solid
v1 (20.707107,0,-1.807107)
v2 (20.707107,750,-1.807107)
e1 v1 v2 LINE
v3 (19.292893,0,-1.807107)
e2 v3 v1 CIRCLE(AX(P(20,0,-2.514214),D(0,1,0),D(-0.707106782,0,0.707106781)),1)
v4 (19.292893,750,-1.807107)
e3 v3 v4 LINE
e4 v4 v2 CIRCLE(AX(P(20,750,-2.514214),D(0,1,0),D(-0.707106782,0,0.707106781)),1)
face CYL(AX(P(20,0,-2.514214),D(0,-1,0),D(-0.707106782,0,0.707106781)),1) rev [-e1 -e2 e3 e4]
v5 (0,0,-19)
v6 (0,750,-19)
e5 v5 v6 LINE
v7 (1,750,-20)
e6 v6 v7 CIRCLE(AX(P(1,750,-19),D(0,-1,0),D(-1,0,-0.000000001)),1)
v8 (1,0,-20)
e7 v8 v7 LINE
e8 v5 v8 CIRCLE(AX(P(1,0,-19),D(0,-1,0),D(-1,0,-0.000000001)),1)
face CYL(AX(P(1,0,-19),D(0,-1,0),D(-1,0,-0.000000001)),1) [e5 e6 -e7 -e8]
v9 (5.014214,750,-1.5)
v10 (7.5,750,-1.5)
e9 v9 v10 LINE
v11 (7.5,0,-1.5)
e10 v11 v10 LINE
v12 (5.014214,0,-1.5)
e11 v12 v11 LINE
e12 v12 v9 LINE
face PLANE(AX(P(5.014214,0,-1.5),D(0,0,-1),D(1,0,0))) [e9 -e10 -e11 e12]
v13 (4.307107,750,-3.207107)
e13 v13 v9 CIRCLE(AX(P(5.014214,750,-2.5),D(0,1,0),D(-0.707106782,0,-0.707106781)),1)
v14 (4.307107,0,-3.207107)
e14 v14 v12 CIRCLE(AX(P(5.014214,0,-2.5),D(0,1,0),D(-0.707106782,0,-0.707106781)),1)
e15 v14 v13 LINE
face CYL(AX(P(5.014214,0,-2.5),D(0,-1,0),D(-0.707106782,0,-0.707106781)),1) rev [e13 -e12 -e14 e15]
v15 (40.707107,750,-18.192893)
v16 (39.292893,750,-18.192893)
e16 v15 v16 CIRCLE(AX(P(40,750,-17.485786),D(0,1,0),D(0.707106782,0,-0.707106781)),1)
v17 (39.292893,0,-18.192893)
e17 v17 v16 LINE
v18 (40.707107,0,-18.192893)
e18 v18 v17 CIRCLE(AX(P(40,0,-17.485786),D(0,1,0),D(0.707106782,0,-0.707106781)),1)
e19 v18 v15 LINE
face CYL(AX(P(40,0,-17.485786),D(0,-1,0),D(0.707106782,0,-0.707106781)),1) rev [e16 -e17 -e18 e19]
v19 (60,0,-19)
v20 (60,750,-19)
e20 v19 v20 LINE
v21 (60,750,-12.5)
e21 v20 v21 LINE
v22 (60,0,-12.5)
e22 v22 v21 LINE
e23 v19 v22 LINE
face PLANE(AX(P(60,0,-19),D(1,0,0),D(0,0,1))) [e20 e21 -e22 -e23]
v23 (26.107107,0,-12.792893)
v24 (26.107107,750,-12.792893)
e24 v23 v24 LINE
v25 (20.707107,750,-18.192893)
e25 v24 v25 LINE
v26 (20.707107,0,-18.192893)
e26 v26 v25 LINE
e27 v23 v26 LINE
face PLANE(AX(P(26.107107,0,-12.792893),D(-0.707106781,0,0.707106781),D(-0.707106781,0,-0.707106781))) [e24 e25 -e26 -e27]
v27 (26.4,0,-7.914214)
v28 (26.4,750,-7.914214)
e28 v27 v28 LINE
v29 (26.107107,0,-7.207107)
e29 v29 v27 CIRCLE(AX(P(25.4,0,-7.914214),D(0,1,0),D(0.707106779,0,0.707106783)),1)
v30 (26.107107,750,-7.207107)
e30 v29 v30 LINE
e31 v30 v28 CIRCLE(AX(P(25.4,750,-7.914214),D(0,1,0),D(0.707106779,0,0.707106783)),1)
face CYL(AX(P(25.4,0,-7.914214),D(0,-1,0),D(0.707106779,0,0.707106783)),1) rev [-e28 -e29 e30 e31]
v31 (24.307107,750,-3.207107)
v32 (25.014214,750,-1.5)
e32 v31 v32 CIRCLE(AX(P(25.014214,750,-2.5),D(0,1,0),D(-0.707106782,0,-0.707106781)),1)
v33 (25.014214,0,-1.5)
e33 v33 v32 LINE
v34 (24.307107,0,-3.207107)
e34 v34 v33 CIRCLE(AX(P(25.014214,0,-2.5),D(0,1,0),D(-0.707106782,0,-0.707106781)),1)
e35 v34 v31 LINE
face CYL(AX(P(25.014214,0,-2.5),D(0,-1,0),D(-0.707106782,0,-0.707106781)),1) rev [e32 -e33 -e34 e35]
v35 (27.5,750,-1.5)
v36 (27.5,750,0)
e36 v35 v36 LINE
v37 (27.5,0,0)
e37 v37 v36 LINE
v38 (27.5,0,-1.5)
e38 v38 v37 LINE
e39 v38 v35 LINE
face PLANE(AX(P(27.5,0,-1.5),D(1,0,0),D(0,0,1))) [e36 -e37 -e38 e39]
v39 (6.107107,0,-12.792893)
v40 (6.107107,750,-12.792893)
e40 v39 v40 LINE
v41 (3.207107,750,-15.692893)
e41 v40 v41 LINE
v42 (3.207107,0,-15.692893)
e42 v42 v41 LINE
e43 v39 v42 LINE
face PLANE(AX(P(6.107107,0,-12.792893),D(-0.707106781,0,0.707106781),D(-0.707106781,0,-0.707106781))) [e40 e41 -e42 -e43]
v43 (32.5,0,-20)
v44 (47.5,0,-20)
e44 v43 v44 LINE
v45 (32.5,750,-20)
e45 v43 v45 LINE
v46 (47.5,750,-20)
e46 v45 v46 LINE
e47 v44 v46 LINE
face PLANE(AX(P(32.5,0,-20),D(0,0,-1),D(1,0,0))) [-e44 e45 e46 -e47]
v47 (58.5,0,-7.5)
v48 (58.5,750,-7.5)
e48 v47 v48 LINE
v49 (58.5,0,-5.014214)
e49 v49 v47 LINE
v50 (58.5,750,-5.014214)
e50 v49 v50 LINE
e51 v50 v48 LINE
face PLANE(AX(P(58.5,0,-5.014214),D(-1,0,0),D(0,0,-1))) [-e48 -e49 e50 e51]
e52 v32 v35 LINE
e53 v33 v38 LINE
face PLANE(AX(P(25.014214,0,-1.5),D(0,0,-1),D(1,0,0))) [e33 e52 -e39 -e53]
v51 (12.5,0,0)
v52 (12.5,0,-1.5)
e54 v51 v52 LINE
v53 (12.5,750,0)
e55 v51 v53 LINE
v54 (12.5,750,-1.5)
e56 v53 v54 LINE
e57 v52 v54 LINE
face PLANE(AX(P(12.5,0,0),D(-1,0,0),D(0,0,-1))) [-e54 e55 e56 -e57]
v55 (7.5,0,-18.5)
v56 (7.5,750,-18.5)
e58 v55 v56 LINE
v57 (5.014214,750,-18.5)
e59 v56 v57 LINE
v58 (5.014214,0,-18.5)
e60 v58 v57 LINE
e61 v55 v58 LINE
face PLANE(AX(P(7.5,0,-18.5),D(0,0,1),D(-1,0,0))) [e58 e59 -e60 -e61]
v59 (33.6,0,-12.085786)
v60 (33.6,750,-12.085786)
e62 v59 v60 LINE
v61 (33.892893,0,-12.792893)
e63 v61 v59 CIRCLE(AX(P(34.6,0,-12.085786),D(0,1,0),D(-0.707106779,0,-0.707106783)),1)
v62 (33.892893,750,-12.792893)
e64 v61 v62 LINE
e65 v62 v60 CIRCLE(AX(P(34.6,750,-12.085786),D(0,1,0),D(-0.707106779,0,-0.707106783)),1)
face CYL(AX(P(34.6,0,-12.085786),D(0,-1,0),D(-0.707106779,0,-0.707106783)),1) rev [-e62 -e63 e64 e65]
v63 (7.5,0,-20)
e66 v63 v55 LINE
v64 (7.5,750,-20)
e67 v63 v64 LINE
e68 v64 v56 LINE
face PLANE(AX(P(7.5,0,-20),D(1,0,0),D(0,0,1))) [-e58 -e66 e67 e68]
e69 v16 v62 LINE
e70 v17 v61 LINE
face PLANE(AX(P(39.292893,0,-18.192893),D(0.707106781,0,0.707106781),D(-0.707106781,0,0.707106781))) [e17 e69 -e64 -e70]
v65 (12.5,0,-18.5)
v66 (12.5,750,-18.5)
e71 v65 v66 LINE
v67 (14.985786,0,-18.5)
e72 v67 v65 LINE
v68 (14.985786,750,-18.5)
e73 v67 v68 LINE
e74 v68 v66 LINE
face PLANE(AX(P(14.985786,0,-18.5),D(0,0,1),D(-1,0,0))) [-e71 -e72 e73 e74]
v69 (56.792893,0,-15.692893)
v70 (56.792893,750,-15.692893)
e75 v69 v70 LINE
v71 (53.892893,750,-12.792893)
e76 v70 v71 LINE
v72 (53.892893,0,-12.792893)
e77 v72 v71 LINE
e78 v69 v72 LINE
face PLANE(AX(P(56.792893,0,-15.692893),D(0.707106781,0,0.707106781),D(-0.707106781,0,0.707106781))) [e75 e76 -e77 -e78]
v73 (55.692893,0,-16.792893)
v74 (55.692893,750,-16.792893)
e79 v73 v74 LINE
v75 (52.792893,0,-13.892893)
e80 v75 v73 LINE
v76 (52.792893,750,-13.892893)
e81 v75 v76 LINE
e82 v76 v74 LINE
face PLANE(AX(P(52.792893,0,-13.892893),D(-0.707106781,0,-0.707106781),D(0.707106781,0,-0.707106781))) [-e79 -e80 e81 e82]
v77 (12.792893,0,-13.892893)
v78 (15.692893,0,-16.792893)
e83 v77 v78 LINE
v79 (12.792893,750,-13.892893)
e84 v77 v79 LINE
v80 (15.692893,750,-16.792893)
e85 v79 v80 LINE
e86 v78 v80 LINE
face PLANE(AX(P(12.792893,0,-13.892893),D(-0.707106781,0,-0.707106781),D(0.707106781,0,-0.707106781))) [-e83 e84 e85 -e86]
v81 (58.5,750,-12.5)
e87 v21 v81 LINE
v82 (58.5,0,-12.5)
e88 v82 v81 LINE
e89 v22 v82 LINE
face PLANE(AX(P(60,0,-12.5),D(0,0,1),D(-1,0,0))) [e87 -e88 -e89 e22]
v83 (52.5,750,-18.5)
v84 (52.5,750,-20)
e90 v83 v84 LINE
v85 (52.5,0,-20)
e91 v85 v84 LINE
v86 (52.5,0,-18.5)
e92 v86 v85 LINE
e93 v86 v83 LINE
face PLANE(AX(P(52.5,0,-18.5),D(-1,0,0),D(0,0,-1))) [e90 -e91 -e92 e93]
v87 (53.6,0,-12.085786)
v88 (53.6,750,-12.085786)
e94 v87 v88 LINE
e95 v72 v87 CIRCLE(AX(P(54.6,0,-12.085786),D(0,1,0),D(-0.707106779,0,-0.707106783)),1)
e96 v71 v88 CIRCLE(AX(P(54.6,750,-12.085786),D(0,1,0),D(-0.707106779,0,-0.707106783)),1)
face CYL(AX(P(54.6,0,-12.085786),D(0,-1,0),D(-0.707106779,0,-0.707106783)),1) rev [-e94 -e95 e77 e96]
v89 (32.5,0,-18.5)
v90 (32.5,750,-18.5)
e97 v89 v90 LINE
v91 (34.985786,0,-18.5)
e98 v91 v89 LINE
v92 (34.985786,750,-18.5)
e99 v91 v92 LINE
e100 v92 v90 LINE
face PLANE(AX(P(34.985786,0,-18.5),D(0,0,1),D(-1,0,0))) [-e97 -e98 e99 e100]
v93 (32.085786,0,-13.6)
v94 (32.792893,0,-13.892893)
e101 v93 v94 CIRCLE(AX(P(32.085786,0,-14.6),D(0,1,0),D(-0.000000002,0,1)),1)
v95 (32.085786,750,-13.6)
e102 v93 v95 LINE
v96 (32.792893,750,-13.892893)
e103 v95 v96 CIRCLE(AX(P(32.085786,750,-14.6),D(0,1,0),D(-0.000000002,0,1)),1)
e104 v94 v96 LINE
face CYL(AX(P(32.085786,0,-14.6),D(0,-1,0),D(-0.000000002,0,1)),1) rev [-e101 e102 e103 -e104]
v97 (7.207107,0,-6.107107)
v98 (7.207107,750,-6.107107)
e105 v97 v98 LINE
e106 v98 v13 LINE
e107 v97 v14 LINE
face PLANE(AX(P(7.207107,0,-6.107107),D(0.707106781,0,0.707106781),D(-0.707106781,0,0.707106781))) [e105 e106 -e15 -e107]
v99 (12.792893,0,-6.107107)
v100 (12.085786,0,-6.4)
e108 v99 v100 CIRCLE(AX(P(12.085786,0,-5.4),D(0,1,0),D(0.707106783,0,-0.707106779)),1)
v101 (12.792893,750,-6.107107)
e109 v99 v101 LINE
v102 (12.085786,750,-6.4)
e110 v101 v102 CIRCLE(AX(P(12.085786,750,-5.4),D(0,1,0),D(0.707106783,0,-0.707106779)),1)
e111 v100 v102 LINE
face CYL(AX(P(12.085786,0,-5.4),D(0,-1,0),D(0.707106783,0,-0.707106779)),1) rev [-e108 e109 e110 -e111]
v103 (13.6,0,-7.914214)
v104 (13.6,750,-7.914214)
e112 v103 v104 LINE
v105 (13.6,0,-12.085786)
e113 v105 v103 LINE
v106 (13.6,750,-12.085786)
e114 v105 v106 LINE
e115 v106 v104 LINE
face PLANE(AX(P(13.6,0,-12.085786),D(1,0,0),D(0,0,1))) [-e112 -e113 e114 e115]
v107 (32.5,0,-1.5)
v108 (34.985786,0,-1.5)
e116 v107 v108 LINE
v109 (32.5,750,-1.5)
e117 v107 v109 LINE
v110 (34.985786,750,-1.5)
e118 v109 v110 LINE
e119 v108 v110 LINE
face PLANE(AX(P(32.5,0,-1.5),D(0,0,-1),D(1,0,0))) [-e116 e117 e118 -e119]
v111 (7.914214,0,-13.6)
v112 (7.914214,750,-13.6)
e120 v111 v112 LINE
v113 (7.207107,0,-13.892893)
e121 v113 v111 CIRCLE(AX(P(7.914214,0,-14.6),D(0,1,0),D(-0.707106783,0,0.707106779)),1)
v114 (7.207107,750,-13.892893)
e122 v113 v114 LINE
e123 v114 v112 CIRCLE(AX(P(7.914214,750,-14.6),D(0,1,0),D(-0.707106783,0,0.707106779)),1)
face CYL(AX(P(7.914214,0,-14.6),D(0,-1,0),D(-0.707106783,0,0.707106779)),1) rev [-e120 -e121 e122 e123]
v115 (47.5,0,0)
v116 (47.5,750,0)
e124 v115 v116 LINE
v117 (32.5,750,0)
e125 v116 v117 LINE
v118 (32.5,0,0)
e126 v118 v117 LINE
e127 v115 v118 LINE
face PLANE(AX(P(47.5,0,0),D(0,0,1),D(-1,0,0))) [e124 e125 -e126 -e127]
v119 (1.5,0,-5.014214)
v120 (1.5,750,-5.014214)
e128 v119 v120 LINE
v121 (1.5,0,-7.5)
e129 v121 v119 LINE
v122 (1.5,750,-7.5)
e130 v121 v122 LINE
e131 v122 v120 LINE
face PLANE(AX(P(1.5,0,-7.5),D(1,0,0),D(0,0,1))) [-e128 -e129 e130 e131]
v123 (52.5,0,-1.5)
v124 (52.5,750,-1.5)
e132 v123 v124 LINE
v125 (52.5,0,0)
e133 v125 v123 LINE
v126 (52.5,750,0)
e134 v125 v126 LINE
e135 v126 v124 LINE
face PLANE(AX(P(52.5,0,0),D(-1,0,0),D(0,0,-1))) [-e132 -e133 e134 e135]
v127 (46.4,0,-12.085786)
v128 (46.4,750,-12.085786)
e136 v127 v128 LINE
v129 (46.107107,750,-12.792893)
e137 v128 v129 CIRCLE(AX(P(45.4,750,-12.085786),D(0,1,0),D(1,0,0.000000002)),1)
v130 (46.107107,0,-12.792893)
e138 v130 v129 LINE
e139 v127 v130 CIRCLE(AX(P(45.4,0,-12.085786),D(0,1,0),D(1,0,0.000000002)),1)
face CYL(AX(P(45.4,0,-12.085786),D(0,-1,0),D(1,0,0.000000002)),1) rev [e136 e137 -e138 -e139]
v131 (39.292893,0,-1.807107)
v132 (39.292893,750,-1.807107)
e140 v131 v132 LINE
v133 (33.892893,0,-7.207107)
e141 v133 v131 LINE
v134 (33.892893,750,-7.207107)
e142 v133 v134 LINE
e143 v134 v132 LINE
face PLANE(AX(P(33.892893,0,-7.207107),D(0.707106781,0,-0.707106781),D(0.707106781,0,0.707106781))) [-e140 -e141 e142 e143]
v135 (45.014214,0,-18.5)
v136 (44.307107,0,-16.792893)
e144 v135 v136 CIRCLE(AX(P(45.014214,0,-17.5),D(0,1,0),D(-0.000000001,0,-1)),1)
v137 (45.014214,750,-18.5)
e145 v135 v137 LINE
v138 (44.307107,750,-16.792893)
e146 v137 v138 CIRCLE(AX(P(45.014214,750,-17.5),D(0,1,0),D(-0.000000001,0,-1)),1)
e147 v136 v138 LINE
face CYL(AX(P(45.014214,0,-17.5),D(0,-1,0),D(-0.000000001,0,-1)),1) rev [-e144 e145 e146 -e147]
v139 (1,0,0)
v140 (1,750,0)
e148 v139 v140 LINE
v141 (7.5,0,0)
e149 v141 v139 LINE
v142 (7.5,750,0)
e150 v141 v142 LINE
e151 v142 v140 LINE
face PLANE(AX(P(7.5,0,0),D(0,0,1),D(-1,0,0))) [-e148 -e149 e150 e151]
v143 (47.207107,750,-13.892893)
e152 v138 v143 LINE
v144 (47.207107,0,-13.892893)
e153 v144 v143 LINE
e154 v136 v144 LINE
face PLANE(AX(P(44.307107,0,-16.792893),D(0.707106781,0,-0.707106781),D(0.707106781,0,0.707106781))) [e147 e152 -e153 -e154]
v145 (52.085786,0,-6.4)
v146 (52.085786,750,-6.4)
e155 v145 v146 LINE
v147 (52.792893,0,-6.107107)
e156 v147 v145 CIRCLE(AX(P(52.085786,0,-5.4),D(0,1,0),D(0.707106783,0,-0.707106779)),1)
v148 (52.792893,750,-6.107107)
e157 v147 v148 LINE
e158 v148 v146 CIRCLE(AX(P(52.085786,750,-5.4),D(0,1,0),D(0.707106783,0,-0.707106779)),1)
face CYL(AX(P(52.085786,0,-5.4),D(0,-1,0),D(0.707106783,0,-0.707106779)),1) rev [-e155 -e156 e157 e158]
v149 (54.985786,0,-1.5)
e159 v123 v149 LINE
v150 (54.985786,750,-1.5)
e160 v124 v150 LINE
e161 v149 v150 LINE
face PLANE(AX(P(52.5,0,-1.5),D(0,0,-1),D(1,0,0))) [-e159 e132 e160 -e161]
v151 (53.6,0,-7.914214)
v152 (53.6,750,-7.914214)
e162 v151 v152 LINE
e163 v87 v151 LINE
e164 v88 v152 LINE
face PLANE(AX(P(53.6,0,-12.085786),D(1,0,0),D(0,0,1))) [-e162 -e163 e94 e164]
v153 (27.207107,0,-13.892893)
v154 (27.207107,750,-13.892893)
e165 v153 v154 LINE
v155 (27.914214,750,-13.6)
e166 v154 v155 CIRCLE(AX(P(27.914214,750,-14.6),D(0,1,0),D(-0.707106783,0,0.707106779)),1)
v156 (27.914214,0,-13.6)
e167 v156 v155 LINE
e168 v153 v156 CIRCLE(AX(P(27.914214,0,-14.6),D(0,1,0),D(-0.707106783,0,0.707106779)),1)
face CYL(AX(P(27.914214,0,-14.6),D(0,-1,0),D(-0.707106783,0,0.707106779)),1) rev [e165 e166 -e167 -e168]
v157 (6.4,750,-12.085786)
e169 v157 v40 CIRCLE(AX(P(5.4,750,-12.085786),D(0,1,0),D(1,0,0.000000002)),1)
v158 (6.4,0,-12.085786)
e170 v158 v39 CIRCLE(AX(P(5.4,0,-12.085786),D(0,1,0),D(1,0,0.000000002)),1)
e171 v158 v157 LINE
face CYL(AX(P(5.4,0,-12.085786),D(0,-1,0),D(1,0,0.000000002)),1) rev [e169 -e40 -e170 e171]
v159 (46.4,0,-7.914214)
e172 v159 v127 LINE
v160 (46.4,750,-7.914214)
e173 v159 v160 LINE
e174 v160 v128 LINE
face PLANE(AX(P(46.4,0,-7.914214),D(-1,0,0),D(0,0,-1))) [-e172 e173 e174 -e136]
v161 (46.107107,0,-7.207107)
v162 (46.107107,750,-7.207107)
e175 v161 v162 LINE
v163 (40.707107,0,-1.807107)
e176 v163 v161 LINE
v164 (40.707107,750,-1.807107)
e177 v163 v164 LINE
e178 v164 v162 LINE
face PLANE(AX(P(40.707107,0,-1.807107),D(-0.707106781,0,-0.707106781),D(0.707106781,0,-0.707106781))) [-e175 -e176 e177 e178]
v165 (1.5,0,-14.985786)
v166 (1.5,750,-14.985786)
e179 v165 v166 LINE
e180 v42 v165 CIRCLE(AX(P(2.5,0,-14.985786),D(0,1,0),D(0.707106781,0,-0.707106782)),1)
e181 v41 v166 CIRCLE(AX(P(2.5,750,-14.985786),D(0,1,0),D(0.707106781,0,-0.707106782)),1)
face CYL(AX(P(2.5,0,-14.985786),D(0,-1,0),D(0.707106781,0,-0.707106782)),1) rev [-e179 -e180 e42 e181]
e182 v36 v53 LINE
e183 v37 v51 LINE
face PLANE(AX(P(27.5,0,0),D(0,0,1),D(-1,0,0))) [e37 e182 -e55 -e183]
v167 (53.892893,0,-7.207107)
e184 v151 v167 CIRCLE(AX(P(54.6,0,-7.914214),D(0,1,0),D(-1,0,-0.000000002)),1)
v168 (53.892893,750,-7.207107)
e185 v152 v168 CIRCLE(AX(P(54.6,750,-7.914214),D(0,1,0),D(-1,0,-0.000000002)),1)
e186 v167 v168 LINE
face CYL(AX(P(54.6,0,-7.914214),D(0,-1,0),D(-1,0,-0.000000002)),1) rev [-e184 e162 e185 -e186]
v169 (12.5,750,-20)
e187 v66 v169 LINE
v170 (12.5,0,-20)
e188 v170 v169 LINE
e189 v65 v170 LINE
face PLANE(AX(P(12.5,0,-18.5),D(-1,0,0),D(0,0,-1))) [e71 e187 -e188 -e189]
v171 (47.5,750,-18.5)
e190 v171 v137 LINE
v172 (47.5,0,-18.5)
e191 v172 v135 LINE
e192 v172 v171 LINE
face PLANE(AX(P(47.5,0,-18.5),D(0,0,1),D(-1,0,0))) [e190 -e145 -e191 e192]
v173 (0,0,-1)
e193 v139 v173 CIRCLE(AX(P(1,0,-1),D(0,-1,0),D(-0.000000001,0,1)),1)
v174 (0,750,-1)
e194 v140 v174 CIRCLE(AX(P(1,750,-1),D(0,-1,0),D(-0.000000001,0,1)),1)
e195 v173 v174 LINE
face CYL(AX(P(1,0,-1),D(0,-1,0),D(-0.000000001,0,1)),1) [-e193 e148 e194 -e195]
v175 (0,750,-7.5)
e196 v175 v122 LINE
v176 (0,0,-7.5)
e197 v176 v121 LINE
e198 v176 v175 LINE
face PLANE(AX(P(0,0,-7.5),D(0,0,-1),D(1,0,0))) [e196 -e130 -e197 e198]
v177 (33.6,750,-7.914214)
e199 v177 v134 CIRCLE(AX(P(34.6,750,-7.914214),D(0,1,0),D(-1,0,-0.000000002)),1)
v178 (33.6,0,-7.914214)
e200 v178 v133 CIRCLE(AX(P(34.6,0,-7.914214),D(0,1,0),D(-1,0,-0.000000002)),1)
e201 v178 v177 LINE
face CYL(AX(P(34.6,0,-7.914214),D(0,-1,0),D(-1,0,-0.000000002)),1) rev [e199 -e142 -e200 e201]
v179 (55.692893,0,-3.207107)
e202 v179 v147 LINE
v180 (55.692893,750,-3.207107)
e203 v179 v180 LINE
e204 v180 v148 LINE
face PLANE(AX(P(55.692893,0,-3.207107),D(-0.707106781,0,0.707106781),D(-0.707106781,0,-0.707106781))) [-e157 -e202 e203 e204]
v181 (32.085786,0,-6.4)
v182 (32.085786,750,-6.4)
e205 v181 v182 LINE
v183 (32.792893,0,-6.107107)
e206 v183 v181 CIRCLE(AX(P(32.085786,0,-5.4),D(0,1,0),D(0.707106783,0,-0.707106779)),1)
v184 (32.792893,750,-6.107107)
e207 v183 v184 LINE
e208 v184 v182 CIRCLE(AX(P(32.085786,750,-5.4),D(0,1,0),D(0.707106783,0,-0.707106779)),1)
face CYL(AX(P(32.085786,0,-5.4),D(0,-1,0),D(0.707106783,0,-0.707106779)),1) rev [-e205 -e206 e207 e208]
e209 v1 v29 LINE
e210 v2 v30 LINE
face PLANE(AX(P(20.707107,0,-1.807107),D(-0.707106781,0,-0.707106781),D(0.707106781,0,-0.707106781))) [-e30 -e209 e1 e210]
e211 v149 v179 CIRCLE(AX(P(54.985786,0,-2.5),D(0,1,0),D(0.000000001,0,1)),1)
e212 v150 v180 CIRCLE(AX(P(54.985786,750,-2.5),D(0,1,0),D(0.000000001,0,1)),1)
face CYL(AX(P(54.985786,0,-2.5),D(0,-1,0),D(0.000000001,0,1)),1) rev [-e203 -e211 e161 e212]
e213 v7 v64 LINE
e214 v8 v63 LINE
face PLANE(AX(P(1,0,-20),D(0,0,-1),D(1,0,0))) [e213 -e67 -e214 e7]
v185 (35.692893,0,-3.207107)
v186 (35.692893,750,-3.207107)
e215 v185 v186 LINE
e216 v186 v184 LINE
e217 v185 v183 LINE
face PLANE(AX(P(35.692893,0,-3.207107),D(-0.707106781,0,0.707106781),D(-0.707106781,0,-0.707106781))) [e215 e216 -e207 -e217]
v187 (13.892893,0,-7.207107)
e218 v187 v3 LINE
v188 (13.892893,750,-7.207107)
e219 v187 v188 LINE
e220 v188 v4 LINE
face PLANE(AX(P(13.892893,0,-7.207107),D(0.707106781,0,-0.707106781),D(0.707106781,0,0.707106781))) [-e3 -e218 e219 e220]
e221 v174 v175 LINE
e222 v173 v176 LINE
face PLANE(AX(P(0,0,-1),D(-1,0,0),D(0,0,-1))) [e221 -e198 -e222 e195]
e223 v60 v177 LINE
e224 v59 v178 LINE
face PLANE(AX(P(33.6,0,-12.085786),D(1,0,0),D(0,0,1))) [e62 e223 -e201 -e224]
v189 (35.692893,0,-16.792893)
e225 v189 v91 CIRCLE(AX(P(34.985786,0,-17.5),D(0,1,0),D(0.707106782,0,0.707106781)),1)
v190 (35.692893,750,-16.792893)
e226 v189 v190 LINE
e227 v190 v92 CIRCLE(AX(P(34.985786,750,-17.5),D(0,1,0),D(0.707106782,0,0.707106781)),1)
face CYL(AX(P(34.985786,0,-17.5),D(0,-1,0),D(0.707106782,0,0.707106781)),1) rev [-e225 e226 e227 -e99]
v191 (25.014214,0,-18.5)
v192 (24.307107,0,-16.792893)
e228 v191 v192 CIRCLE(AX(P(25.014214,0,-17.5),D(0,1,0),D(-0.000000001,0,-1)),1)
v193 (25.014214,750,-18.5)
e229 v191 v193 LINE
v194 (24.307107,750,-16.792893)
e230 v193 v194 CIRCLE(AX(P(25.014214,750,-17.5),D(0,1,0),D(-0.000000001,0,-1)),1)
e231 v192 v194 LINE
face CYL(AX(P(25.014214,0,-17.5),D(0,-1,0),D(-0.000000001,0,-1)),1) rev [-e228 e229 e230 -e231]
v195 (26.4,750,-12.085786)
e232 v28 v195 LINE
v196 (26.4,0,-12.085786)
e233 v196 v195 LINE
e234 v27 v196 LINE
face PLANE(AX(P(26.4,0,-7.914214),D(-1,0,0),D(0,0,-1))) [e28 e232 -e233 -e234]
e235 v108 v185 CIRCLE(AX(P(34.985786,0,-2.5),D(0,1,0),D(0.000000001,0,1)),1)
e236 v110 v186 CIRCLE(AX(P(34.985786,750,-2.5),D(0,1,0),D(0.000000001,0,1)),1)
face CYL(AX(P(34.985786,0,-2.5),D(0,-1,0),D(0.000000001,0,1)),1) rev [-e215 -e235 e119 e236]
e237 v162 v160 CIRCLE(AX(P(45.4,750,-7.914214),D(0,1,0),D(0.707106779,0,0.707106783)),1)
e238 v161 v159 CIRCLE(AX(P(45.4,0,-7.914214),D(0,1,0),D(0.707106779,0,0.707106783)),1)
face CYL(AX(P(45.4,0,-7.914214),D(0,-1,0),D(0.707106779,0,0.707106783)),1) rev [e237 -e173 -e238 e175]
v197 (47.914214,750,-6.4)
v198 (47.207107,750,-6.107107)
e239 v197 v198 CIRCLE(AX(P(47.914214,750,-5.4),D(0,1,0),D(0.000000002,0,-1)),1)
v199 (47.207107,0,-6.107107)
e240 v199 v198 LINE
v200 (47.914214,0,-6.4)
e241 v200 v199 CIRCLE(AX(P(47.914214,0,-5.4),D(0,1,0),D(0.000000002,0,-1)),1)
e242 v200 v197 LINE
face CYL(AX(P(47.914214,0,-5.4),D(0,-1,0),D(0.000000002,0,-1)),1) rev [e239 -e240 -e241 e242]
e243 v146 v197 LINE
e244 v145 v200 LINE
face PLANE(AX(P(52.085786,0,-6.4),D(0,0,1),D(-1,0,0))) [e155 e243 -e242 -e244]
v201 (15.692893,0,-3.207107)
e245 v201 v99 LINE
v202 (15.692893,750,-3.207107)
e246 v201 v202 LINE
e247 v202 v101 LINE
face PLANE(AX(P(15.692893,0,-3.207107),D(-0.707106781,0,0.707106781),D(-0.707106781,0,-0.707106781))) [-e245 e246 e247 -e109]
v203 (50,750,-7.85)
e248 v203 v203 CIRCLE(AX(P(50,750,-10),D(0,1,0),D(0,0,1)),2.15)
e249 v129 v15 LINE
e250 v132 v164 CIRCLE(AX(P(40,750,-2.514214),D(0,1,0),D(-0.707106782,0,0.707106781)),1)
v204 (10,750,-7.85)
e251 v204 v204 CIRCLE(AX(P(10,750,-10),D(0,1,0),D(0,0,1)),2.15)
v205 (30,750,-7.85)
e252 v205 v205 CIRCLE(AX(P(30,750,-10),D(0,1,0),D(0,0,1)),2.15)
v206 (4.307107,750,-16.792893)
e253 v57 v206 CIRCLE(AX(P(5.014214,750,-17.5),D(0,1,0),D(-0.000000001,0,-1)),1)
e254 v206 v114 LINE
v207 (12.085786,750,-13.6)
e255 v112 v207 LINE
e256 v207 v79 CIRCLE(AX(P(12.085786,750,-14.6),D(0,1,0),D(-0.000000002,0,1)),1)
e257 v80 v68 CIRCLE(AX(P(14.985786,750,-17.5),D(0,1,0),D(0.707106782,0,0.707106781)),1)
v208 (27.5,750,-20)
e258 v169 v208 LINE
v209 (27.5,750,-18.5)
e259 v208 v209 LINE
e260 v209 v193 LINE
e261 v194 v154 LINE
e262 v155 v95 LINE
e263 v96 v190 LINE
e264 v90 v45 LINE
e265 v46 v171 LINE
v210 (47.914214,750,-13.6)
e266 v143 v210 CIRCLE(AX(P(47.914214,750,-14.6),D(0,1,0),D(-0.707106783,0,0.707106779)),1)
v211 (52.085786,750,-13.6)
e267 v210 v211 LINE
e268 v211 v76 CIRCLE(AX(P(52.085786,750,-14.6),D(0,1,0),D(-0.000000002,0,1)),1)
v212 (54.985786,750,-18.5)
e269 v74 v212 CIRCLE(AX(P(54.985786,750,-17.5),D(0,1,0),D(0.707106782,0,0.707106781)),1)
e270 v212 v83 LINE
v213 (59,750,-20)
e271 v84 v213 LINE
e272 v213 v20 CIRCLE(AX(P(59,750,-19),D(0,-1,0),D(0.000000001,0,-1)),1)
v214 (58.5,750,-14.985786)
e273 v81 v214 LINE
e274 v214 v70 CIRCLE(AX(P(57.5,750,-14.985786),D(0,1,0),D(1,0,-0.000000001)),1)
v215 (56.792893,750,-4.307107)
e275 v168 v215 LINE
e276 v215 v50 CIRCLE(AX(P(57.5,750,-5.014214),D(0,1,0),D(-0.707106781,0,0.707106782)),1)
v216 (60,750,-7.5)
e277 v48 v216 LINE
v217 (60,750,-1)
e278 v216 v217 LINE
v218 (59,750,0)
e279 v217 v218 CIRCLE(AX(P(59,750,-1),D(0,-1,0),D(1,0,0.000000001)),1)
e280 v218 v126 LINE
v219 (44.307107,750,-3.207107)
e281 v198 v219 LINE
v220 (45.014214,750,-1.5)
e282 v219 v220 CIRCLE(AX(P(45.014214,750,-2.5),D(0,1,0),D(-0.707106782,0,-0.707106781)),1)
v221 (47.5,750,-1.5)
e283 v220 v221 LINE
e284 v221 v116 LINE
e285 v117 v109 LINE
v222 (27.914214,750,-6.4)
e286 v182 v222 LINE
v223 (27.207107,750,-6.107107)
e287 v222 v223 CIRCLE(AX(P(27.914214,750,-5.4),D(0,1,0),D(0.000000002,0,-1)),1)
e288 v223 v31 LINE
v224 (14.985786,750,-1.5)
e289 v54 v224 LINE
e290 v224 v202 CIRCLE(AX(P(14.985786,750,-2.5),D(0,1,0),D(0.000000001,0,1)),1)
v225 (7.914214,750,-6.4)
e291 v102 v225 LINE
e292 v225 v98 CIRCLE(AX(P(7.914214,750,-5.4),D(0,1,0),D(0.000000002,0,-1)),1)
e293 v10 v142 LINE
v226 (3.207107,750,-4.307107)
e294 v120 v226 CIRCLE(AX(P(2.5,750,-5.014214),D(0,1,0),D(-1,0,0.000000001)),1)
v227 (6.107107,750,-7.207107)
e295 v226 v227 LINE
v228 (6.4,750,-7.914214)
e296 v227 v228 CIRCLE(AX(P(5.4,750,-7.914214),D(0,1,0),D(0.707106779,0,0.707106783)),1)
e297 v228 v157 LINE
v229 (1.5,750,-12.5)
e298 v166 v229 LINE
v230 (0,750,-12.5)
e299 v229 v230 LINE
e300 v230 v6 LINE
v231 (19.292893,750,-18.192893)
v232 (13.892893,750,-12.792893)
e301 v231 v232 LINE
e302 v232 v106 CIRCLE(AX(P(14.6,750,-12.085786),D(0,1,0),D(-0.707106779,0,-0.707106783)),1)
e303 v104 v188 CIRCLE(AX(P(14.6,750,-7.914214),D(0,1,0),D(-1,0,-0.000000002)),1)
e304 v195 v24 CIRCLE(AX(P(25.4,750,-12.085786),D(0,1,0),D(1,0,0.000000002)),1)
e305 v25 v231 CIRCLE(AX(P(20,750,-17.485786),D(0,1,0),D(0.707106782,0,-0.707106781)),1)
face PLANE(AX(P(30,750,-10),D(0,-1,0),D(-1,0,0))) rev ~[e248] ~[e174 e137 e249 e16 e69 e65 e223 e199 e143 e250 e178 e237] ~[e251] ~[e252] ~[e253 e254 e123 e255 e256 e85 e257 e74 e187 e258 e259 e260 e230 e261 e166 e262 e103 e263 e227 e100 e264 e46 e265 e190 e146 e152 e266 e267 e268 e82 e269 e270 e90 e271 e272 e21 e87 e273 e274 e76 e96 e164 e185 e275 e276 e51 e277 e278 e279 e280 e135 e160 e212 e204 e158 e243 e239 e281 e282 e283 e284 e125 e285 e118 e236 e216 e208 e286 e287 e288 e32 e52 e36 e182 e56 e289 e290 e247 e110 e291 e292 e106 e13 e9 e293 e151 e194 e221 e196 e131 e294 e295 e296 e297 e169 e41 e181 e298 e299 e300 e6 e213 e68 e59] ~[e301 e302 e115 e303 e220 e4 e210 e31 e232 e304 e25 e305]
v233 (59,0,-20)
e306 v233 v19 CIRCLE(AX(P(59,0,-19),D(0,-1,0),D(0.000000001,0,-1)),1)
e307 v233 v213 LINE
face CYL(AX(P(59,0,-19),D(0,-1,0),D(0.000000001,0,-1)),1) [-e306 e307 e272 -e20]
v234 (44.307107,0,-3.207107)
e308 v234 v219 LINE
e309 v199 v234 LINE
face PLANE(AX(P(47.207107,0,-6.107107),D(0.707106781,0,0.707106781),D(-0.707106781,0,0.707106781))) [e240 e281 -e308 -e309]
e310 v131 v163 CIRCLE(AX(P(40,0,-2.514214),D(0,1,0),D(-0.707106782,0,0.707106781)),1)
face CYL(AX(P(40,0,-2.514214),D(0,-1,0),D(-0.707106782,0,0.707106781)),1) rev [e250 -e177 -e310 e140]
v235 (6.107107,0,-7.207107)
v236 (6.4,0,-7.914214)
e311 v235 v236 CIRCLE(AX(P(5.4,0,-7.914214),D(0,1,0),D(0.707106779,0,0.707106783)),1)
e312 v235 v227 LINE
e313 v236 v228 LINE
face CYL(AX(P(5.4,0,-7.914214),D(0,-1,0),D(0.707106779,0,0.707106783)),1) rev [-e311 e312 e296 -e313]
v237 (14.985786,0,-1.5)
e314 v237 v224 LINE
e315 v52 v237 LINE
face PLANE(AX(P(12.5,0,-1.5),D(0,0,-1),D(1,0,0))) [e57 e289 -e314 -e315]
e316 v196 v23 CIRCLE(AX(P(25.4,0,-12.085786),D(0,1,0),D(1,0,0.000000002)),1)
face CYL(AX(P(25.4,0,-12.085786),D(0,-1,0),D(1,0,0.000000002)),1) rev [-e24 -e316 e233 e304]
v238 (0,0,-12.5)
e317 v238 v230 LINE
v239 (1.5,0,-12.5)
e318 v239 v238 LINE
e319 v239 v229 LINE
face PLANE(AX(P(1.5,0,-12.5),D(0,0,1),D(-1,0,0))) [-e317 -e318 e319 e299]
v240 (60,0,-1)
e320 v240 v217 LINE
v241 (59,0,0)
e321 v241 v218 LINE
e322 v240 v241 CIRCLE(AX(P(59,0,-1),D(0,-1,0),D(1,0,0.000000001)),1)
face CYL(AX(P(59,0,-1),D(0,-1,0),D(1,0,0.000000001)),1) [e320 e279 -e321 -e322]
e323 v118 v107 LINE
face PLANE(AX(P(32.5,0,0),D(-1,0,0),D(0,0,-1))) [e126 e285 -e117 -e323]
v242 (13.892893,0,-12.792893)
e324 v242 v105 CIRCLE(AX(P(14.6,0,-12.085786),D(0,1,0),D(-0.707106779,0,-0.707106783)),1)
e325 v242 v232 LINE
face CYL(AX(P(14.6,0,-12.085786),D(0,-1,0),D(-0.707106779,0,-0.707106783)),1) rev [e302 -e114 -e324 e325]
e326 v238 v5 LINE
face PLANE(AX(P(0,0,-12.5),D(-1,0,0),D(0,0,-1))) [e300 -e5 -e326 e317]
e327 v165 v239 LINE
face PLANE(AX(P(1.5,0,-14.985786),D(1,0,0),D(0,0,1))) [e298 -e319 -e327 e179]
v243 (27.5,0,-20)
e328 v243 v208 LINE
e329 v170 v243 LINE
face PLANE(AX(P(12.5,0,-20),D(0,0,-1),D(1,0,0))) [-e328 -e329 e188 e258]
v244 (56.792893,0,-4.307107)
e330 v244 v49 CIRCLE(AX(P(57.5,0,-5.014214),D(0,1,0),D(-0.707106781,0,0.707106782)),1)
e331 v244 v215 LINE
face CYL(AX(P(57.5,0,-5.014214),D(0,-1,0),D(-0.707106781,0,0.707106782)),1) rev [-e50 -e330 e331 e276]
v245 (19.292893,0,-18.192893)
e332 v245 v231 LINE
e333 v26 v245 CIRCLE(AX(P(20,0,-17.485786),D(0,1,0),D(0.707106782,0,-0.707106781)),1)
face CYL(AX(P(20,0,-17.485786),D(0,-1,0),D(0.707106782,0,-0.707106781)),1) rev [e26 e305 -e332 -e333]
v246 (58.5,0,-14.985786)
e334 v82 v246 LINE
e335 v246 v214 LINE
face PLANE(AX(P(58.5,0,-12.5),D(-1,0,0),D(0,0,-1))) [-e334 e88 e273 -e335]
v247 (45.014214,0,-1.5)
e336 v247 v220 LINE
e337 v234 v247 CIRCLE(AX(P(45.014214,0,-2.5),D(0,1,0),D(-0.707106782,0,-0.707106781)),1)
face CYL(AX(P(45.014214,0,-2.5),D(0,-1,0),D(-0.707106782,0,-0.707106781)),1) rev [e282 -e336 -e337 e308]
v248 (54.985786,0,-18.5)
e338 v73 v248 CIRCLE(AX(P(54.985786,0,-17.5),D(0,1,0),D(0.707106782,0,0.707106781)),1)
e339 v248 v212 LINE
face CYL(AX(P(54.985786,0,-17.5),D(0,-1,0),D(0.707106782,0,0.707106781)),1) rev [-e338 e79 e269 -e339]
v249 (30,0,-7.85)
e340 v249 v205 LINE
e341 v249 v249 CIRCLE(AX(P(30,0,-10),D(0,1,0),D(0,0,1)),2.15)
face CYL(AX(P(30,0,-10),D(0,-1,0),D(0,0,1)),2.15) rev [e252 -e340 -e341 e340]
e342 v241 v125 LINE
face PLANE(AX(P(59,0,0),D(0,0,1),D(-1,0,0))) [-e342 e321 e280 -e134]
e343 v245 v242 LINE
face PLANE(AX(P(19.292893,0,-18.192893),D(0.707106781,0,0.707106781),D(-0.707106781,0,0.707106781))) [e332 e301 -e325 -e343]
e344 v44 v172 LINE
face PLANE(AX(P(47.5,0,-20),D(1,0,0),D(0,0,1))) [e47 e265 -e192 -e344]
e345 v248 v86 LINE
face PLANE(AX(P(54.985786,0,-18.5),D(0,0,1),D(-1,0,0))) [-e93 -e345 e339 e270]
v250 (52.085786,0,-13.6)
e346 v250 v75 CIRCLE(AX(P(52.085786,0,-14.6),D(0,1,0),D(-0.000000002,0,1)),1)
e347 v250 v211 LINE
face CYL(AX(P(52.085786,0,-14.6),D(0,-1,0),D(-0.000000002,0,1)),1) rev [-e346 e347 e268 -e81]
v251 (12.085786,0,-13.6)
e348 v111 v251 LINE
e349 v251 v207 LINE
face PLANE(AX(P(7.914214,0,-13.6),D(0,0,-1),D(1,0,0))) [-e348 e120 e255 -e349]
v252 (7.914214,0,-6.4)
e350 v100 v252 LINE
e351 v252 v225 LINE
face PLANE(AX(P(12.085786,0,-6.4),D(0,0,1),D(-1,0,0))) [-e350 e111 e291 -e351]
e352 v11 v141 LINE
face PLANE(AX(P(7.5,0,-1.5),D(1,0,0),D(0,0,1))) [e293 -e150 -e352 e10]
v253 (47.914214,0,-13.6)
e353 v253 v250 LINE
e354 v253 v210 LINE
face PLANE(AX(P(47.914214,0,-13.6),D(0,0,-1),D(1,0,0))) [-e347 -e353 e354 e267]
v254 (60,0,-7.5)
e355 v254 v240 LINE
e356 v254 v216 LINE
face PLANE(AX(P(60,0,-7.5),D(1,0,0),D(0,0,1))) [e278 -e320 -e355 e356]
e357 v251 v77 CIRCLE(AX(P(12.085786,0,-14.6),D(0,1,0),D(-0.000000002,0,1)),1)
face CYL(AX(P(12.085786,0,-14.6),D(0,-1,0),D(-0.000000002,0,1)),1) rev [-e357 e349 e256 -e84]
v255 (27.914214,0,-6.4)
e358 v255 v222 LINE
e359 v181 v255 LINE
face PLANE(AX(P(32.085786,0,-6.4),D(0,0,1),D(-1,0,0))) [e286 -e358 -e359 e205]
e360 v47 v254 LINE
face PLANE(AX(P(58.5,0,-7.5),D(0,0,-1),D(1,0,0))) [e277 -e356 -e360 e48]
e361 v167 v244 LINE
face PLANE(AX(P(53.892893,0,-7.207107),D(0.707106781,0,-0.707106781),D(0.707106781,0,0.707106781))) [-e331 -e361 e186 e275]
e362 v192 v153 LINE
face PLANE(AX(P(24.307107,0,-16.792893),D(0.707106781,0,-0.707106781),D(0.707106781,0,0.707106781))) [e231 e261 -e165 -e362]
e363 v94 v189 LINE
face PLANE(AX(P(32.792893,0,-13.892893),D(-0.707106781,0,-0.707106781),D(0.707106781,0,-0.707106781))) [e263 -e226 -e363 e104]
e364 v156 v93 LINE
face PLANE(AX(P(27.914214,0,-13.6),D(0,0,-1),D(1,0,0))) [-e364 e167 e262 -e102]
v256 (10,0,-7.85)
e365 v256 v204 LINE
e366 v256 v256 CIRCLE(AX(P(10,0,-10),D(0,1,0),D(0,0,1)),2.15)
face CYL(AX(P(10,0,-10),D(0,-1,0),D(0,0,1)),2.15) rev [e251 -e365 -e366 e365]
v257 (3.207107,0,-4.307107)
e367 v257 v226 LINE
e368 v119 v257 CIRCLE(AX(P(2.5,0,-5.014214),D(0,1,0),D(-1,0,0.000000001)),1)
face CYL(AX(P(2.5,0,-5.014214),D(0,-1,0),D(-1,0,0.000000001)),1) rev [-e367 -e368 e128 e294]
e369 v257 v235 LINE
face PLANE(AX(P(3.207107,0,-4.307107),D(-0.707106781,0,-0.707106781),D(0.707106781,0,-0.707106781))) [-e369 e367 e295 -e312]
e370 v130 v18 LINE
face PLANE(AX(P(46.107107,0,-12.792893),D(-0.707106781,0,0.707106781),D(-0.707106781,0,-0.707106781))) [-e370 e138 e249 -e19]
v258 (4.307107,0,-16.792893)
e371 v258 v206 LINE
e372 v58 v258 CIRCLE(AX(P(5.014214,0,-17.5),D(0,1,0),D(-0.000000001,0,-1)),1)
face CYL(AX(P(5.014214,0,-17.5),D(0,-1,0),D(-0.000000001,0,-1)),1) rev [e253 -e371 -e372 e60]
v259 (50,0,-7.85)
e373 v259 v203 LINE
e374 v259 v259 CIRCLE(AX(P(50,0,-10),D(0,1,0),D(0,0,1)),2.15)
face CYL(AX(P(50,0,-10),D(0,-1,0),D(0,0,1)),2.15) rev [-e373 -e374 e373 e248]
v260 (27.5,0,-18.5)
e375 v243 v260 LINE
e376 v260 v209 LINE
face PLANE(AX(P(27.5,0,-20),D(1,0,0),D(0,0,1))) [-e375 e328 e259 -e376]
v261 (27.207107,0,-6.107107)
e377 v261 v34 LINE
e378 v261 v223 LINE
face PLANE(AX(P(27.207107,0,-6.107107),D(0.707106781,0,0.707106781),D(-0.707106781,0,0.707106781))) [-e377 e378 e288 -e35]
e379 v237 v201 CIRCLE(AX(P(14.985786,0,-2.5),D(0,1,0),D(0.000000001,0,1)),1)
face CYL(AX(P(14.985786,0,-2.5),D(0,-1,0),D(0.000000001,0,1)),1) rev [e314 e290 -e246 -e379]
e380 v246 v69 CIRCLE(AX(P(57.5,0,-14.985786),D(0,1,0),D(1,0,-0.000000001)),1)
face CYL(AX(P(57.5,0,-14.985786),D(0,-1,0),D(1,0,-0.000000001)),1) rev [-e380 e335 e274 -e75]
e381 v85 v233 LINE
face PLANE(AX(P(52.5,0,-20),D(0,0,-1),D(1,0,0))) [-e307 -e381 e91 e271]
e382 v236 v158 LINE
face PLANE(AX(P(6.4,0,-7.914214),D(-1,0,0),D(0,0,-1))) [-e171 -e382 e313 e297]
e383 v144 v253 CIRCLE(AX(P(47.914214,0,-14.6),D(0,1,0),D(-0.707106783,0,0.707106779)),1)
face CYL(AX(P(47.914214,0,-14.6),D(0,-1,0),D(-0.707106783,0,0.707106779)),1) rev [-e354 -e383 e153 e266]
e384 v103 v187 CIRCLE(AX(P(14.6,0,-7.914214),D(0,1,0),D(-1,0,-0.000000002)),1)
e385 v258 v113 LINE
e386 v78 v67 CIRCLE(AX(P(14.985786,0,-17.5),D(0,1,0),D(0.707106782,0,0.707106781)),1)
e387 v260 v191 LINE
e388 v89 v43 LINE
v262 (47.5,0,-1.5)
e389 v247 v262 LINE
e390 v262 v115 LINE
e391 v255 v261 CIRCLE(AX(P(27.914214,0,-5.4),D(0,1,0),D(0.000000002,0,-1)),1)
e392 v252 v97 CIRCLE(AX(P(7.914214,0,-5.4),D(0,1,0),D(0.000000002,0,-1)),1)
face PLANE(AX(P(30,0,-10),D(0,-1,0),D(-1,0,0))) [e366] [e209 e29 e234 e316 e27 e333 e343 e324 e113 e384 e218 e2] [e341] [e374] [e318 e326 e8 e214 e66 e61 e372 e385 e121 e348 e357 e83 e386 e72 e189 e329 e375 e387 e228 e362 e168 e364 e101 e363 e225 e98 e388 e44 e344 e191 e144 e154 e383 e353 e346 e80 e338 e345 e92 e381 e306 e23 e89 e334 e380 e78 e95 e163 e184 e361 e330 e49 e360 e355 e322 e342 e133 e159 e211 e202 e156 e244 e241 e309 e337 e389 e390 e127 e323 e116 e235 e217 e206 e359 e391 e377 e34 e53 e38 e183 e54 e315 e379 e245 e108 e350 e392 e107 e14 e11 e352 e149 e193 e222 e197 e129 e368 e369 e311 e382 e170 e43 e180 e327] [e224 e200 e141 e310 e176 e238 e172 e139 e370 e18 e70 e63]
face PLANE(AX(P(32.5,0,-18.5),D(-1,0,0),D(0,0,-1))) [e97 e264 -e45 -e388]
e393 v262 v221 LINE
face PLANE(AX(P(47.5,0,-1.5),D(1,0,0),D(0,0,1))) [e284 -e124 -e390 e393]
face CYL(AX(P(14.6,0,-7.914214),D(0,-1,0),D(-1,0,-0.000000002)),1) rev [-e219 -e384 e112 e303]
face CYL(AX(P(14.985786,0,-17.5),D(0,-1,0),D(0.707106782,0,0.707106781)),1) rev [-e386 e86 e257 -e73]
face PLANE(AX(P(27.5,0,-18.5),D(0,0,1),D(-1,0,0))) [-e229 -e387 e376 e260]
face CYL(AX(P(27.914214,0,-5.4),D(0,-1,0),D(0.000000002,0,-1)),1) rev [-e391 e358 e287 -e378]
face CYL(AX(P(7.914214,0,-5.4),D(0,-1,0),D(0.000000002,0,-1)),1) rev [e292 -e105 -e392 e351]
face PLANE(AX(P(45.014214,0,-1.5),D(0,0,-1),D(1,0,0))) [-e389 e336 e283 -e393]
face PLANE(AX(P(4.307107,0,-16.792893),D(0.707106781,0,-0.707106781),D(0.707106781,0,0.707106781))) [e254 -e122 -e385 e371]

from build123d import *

# Parameters (mm, degrees)
SKETCH1_R           = 2.15
BOSS_EXTRUDE1_DEPTH = 750


with BuildPart() as part:
    # Sketch1 → Boss-Extrude1 (new body)
    with BuildSketch(Plane(origin=(0, 0, 0), x_dir=(1, 0, 0), z_dir=(0, 1, 0))):
        with BuildLine():
            Line((7.5, 20), (7.5, 18.5))
            Line((7.5, 18.5), (5.014213562, 18.5))
            ThreePointArc((5.014213562, 18.5), (4.09033403, 17.882683432), (4.307106781, 16.792893219))
            Line((4.307106781, 16.792893219), (7.207106781, 13.892893219))
            ThreePointArc((7.207106781, 13.892893219), (7.53153013, 13.676120467), (7.914213562, 13.6))
            Line((7.914213562, 13.6), (12.085786438, 13.6))
            ThreePointArc((12.085786438, 13.6), (12.46846987, 13.676120467), (12.792893219, 13.892893219))
            Line((12.792893219, 13.892893219), (15.692893219, 16.792893219))
            ThreePointArc((15.692893219, 16.792893219), (15.90966597, 17.882683432), (14.985786438, 18.5))
            Line((14.985786438, 18.5), (12.5, 18.5))
            Line((12.5, 18.5), (12.5, 20))
            Line((12.5, 20), (27.5, 20))
            Line((27.5, 20), (27.5, 18.5))
            Line((27.5, 18.5), (25.014213562, 18.5))
            ThreePointArc((25.014213562, 18.5), (24.09033403, 17.882683432), (24.307106781, 16.792893219))
            Line((24.307106781, 16.792893219), (27.207106781, 13.892893219))
            ThreePointArc((27.207106781, 13.892893219), (27.53153013, 13.676120467), (27.914213562, 13.6))
            Line((27.914213562, 13.6), (32.085786438, 13.6))
            ThreePointArc((32.085786438, 13.6), (32.46846987, 13.676120467), (32.792893219, 13.892893219))
            Line((32.792893219, 13.892893219), (35.692893219, 16.792893219))
            ThreePointArc((35.692893219, 16.792893219), (35.90966597, 17.882683432), (34.985786438, 18.5))
            Line((34.985786438, 18.5), (32.5, 18.5))
            Line((32.5, 18.5), (32.5, 20))
            Line((32.5, 20), (47.5, 20))
            Line((47.5, 20), (47.5, 18.5))
            Line((47.5, 18.5), (45.014213562, 18.5))
            ThreePointArc((45.014213562, 18.5), (44.09033403, 17.882683432), (44.307106781, 16.792893219))
            Line((44.307106781, 16.792893219), (47.207106781, 13.892893219))
            ThreePointArc((47.207106781, 13.892893219), (47.53153013, 13.676120467), (47.914213562, 13.6))
            Line((47.914213562, 13.6), (52.085786438, 13.6))
            ThreePointArc((52.085786438, 13.6), (52.46846987, 13.676120467), (52.792893219, 13.892893219))
            Line((52.792893219, 13.892893219), (55.692893219, 16.792893219))
            ThreePointArc((55.692893219, 16.792893219), (55.90966597, 17.882683432), (54.985786438, 18.5))
            Line((54.985786438, 18.5), (52.5, 18.5))
            Line((52.5, 18.5), (52.5, 20))
            Line((52.5, 20), (59, 20))
            ThreePointArc((59, 20), (59.707106781, 19.707106781), (60, 19))
            Line((60, 19), (60, 12.5))
            Line((60, 12.5), (58.5, 12.5))
            Line((58.5, 12.5), (58.5, 14.985786438))
            ThreePointArc((58.5, 14.985786438), (57.882683432, 15.90966597), (56.792893219, 15.692893219))
            Line((56.792893219, 15.692893219), (53.892893219, 12.792893219))
            ThreePointArc((53.892893219, 12.792893219), (53.676120467, 12.46846987), (53.6, 12.085786438))
            Line((53.6, 12.085786438), (53.6, 7.914213562))
            ThreePointArc((53.6, 7.914213562), (53.676120467, 7.53153013), (53.892893219, 7.207106781))
            Line((53.892893219, 7.207106781), (56.792893219, 4.307106781))
            ThreePointArc((56.792893219, 4.307106781), (57.882683432, 4.09033403), (58.5, 5.014213562))
            Line((58.5, 5.014213562), (58.5, 7.5))
            Line((58.5, 7.5), (60, 7.5))
            Line((60, 7.5), (60, 1))
            ThreePointArc((60, 1), (59.707106781, 0.292893219), (59, 0))
            Line((59, 0), (52.5, 0))
            Line((52.5, 0), (52.5, 1.5))
            Line((52.5, 1.5), (54.985786438, 1.5))
            ThreePointArc((54.985786438, 1.5), (55.90966597, 2.117316568), (55.692893219, 3.207106781))
            Line((55.692893219, 3.207106781), (52.792893219, 6.107106781))
            ThreePointArc((52.792893219, 6.107106781), (52.46846987, 6.323879533), (52.085786438, 6.4))
            Line((52.085786438, 6.4), (47.914213562, 6.4))
            ThreePointArc((47.914213562, 6.4), (47.53153013, 6.323879533), (47.207106781, 6.107106781))
            Line((47.207106781, 6.107106781), (44.307106781, 3.207106781))
            ThreePointArc((44.307106781, 3.207106781), (44.09033403, 2.117316568), (45.014213562, 1.5))
            Line((45.014213562, 1.5), (47.5, 1.5))
            Line((47.5, 1.5), (47.5, 0))
            Line((47.5, 0), (32.5, 0))
            Line((32.5, 0), (32.5, 1.5))
            Line((32.5, 1.5), (34.985786438, 1.5))
            ThreePointArc((34.985786438, 1.5), (35.90966597, 2.117316568), (35.692893219, 3.207106781))
            Line((35.692893219, 3.207106781), (32.792893219, 6.107106781))
            ThreePointArc((32.792893219, 6.107106781), (32.46846987, 6.323879533), (32.085786438, 6.4))
            Line((32.085786438, 6.4), (27.914213562, 6.4))
            ThreePointArc((27.914213562, 6.4), (27.53153013, 6.323879533), (27.207106781, 6.107106781))
            Line((27.207106781, 6.107106781), (24.307106781, 3.207106781))
            ThreePointArc((24.307106781, 3.207106781), (24.09033403, 2.117316568), (25.014213562, 1.5))
            Line((25.014213562, 1.5), (27.5, 1.5))
            Line((27.5, 1.5), (27.5, 0))
            Line((27.5, 0), (12.5, 0))
            Line((12.5, 0), (12.5, 1.5))
            Line((12.5, 1.5), (14.985786438, 1.5))
            ThreePointArc((14.985786438, 1.5), (15.90966597, 2.117316568), (15.692893219, 3.207106781))
            Line((15.692893219, 3.207106781), (12.792893219, 6.107106781))
            ThreePointArc((12.792893219, 6.107106781), (12.46846987, 6.323879533), (12.085786438, 6.4))
            Line((12.085786438, 6.4), (7.914213562, 6.4))
            ThreePointArc((7.914213562, 6.4), (7.53153013, 6.323879533), (7.207106781, 6.107106781))
            Line((7.207106781, 6.107106781), (4.307106781, 3.207106781))
            ThreePointArc((4.307106781, 3.207106781), (4.09033403, 2.117316568), (5.014213562, 1.5))
            Line((5.014213562, 1.5), (7.5, 1.5))
            Line((7.5, 1.5), (7.5, 0))
            Line((7.5, 0), (1, 0))
            ThreePointArc((1, 0), (0.292893219, 0.292893219), (0, 1))
            Line((0, 1), (0, 7.5))
            Line((0, 7.5), (1.5, 7.5))
            Line((1.5, 7.5), (1.5, 5.014213562))
            ThreePointArc((1.5, 5.014213562), (2.117316568, 4.09033403), (3.207106781, 4.307106781))
            Line((3.207106781, 4.307106781), (6.107106781, 7.207106781))
            ThreePointArc((6.107106781, 7.207106781), (6.323879533, 7.53153013), (6.4, 7.914213562))
            Line((6.4, 7.914213562), (6.4, 12.085786438))
            ThreePointArc((6.4, 12.085786438), (6.323879533, 12.46846987), (6.107106781, 12.792893219))
            Line((6.107106781, 12.792893219), (3.207106781, 15.692893219))
            ThreePointArc((3.207106781, 15.692893219), (2.117316568, 15.90966597), (1.5, 14.985786438))
            Line((1.5, 14.985786438), (1.5, 12.5))
            Line((1.5, 12.5), (0, 12.5))
            Line((0, 12.5), (0, 19))
            ThreePointArc((0, 19), (0.292893219, 19.707106781), (1, 20))
            Line((1, 20), (7.5, 20))
        make_face()
        with Locations(Location((10, 10, 0), (0, 0, 270))):
            Circle(SKETCH1_R, mode=Mode.SUBTRACT)
        with Locations(Location((30, 10, 0), (0, 0, 270))):
            Circle(SKETCH1_R, mode=Mode.SUBTRACT)
        with Locations(Location((50, 10, 0), (0, 0, 270))):
            Circle(SKETCH1_R, mode=Mode.SUBTRACT)
        with BuildLine():
            Line((19.292893219, 18.192893219), (13.892893219, 12.792893219))
            ThreePointArc((13.892893219, 12.792893219), (13.676120467, 12.46846987), (13.6, 12.085786438))
            Line((13.6, 12.085786438), (13.6, 7.914213562))
            ThreePointArc((13.6, 7.914213562), (13.676120467, 7.53153013), (13.892893219, 7.207106781))
            Line((13.892893219, 7.207106781), (19.292893219, 1.807106781))
            ThreePointArc((19.292893219, 1.807106781), (20, 1.514213562), (20.707106781, 1.807106781))
            Line((20.707106781, 1.807106781), (26.107106781, 7.207106781))
            ThreePointArc((26.107106781, 7.207106781), (26.323879533, 7.53153013), (26.4, 7.914213562))
            Line((26.4, 7.914213562), (26.4, 12.085786438))
            ThreePointArc((26.4, 12.085786438), (26.323879533, 12.46846987), (26.107106781, 12.792893219))
            Line((26.107106781, 12.792893219), (20.707106781, 18.192893219))
            ThreePointArc((20.707106781, 18.192893219), (20, 18.485786438), (19.292893219, 18.192893219))
        make_face(mode=Mode.SUBTRACT)
        with BuildLine():
            Line((33.6, 12.085786438), (33.6, 7.914213562))
            ThreePointArc((33.6, 7.914213562), (33.676120467, 7.53153013), (33.892893219, 7.207106781))
            Line((33.892893219, 7.207106781), (39.292893219, 1.807106781))
            ThreePointArc((39.292893219, 1.807106781), (40, 1.514213562), (40.707106781, 1.807106781))
            Line((40.707106781, 1.807106781), (46.107106781, 7.207106781))
            ThreePointArc((46.107106781, 7.207106781), (46.323879533, 7.53153013), (46.4, 7.914213562))
            Line((46.4, 7.914213562), (46.4, 12.085786438))
            ThreePointArc((46.4, 12.085786438), (46.323879533, 12.46846987), (46.107106781, 12.792893219))
            Line((46.107106781, 12.792893219), (40.707106781, 18.192893219))
            ThreePointArc((40.707106781, 18.192893219), (40, 18.485786438), (39.292893219, 18.192893219))
            Line((39.292893219, 18.192893219), (33.892893219, 12.792893219))
            ThreePointArc((33.892893219, 12.792893219), (33.676120467, 12.46846987), (33.6, 12.085786438))
        make_face(mode=Mode.SUBTRACT)
    extrude(amount=BOSS_EXTRUDE1_DEPTH)


solid = part.part
